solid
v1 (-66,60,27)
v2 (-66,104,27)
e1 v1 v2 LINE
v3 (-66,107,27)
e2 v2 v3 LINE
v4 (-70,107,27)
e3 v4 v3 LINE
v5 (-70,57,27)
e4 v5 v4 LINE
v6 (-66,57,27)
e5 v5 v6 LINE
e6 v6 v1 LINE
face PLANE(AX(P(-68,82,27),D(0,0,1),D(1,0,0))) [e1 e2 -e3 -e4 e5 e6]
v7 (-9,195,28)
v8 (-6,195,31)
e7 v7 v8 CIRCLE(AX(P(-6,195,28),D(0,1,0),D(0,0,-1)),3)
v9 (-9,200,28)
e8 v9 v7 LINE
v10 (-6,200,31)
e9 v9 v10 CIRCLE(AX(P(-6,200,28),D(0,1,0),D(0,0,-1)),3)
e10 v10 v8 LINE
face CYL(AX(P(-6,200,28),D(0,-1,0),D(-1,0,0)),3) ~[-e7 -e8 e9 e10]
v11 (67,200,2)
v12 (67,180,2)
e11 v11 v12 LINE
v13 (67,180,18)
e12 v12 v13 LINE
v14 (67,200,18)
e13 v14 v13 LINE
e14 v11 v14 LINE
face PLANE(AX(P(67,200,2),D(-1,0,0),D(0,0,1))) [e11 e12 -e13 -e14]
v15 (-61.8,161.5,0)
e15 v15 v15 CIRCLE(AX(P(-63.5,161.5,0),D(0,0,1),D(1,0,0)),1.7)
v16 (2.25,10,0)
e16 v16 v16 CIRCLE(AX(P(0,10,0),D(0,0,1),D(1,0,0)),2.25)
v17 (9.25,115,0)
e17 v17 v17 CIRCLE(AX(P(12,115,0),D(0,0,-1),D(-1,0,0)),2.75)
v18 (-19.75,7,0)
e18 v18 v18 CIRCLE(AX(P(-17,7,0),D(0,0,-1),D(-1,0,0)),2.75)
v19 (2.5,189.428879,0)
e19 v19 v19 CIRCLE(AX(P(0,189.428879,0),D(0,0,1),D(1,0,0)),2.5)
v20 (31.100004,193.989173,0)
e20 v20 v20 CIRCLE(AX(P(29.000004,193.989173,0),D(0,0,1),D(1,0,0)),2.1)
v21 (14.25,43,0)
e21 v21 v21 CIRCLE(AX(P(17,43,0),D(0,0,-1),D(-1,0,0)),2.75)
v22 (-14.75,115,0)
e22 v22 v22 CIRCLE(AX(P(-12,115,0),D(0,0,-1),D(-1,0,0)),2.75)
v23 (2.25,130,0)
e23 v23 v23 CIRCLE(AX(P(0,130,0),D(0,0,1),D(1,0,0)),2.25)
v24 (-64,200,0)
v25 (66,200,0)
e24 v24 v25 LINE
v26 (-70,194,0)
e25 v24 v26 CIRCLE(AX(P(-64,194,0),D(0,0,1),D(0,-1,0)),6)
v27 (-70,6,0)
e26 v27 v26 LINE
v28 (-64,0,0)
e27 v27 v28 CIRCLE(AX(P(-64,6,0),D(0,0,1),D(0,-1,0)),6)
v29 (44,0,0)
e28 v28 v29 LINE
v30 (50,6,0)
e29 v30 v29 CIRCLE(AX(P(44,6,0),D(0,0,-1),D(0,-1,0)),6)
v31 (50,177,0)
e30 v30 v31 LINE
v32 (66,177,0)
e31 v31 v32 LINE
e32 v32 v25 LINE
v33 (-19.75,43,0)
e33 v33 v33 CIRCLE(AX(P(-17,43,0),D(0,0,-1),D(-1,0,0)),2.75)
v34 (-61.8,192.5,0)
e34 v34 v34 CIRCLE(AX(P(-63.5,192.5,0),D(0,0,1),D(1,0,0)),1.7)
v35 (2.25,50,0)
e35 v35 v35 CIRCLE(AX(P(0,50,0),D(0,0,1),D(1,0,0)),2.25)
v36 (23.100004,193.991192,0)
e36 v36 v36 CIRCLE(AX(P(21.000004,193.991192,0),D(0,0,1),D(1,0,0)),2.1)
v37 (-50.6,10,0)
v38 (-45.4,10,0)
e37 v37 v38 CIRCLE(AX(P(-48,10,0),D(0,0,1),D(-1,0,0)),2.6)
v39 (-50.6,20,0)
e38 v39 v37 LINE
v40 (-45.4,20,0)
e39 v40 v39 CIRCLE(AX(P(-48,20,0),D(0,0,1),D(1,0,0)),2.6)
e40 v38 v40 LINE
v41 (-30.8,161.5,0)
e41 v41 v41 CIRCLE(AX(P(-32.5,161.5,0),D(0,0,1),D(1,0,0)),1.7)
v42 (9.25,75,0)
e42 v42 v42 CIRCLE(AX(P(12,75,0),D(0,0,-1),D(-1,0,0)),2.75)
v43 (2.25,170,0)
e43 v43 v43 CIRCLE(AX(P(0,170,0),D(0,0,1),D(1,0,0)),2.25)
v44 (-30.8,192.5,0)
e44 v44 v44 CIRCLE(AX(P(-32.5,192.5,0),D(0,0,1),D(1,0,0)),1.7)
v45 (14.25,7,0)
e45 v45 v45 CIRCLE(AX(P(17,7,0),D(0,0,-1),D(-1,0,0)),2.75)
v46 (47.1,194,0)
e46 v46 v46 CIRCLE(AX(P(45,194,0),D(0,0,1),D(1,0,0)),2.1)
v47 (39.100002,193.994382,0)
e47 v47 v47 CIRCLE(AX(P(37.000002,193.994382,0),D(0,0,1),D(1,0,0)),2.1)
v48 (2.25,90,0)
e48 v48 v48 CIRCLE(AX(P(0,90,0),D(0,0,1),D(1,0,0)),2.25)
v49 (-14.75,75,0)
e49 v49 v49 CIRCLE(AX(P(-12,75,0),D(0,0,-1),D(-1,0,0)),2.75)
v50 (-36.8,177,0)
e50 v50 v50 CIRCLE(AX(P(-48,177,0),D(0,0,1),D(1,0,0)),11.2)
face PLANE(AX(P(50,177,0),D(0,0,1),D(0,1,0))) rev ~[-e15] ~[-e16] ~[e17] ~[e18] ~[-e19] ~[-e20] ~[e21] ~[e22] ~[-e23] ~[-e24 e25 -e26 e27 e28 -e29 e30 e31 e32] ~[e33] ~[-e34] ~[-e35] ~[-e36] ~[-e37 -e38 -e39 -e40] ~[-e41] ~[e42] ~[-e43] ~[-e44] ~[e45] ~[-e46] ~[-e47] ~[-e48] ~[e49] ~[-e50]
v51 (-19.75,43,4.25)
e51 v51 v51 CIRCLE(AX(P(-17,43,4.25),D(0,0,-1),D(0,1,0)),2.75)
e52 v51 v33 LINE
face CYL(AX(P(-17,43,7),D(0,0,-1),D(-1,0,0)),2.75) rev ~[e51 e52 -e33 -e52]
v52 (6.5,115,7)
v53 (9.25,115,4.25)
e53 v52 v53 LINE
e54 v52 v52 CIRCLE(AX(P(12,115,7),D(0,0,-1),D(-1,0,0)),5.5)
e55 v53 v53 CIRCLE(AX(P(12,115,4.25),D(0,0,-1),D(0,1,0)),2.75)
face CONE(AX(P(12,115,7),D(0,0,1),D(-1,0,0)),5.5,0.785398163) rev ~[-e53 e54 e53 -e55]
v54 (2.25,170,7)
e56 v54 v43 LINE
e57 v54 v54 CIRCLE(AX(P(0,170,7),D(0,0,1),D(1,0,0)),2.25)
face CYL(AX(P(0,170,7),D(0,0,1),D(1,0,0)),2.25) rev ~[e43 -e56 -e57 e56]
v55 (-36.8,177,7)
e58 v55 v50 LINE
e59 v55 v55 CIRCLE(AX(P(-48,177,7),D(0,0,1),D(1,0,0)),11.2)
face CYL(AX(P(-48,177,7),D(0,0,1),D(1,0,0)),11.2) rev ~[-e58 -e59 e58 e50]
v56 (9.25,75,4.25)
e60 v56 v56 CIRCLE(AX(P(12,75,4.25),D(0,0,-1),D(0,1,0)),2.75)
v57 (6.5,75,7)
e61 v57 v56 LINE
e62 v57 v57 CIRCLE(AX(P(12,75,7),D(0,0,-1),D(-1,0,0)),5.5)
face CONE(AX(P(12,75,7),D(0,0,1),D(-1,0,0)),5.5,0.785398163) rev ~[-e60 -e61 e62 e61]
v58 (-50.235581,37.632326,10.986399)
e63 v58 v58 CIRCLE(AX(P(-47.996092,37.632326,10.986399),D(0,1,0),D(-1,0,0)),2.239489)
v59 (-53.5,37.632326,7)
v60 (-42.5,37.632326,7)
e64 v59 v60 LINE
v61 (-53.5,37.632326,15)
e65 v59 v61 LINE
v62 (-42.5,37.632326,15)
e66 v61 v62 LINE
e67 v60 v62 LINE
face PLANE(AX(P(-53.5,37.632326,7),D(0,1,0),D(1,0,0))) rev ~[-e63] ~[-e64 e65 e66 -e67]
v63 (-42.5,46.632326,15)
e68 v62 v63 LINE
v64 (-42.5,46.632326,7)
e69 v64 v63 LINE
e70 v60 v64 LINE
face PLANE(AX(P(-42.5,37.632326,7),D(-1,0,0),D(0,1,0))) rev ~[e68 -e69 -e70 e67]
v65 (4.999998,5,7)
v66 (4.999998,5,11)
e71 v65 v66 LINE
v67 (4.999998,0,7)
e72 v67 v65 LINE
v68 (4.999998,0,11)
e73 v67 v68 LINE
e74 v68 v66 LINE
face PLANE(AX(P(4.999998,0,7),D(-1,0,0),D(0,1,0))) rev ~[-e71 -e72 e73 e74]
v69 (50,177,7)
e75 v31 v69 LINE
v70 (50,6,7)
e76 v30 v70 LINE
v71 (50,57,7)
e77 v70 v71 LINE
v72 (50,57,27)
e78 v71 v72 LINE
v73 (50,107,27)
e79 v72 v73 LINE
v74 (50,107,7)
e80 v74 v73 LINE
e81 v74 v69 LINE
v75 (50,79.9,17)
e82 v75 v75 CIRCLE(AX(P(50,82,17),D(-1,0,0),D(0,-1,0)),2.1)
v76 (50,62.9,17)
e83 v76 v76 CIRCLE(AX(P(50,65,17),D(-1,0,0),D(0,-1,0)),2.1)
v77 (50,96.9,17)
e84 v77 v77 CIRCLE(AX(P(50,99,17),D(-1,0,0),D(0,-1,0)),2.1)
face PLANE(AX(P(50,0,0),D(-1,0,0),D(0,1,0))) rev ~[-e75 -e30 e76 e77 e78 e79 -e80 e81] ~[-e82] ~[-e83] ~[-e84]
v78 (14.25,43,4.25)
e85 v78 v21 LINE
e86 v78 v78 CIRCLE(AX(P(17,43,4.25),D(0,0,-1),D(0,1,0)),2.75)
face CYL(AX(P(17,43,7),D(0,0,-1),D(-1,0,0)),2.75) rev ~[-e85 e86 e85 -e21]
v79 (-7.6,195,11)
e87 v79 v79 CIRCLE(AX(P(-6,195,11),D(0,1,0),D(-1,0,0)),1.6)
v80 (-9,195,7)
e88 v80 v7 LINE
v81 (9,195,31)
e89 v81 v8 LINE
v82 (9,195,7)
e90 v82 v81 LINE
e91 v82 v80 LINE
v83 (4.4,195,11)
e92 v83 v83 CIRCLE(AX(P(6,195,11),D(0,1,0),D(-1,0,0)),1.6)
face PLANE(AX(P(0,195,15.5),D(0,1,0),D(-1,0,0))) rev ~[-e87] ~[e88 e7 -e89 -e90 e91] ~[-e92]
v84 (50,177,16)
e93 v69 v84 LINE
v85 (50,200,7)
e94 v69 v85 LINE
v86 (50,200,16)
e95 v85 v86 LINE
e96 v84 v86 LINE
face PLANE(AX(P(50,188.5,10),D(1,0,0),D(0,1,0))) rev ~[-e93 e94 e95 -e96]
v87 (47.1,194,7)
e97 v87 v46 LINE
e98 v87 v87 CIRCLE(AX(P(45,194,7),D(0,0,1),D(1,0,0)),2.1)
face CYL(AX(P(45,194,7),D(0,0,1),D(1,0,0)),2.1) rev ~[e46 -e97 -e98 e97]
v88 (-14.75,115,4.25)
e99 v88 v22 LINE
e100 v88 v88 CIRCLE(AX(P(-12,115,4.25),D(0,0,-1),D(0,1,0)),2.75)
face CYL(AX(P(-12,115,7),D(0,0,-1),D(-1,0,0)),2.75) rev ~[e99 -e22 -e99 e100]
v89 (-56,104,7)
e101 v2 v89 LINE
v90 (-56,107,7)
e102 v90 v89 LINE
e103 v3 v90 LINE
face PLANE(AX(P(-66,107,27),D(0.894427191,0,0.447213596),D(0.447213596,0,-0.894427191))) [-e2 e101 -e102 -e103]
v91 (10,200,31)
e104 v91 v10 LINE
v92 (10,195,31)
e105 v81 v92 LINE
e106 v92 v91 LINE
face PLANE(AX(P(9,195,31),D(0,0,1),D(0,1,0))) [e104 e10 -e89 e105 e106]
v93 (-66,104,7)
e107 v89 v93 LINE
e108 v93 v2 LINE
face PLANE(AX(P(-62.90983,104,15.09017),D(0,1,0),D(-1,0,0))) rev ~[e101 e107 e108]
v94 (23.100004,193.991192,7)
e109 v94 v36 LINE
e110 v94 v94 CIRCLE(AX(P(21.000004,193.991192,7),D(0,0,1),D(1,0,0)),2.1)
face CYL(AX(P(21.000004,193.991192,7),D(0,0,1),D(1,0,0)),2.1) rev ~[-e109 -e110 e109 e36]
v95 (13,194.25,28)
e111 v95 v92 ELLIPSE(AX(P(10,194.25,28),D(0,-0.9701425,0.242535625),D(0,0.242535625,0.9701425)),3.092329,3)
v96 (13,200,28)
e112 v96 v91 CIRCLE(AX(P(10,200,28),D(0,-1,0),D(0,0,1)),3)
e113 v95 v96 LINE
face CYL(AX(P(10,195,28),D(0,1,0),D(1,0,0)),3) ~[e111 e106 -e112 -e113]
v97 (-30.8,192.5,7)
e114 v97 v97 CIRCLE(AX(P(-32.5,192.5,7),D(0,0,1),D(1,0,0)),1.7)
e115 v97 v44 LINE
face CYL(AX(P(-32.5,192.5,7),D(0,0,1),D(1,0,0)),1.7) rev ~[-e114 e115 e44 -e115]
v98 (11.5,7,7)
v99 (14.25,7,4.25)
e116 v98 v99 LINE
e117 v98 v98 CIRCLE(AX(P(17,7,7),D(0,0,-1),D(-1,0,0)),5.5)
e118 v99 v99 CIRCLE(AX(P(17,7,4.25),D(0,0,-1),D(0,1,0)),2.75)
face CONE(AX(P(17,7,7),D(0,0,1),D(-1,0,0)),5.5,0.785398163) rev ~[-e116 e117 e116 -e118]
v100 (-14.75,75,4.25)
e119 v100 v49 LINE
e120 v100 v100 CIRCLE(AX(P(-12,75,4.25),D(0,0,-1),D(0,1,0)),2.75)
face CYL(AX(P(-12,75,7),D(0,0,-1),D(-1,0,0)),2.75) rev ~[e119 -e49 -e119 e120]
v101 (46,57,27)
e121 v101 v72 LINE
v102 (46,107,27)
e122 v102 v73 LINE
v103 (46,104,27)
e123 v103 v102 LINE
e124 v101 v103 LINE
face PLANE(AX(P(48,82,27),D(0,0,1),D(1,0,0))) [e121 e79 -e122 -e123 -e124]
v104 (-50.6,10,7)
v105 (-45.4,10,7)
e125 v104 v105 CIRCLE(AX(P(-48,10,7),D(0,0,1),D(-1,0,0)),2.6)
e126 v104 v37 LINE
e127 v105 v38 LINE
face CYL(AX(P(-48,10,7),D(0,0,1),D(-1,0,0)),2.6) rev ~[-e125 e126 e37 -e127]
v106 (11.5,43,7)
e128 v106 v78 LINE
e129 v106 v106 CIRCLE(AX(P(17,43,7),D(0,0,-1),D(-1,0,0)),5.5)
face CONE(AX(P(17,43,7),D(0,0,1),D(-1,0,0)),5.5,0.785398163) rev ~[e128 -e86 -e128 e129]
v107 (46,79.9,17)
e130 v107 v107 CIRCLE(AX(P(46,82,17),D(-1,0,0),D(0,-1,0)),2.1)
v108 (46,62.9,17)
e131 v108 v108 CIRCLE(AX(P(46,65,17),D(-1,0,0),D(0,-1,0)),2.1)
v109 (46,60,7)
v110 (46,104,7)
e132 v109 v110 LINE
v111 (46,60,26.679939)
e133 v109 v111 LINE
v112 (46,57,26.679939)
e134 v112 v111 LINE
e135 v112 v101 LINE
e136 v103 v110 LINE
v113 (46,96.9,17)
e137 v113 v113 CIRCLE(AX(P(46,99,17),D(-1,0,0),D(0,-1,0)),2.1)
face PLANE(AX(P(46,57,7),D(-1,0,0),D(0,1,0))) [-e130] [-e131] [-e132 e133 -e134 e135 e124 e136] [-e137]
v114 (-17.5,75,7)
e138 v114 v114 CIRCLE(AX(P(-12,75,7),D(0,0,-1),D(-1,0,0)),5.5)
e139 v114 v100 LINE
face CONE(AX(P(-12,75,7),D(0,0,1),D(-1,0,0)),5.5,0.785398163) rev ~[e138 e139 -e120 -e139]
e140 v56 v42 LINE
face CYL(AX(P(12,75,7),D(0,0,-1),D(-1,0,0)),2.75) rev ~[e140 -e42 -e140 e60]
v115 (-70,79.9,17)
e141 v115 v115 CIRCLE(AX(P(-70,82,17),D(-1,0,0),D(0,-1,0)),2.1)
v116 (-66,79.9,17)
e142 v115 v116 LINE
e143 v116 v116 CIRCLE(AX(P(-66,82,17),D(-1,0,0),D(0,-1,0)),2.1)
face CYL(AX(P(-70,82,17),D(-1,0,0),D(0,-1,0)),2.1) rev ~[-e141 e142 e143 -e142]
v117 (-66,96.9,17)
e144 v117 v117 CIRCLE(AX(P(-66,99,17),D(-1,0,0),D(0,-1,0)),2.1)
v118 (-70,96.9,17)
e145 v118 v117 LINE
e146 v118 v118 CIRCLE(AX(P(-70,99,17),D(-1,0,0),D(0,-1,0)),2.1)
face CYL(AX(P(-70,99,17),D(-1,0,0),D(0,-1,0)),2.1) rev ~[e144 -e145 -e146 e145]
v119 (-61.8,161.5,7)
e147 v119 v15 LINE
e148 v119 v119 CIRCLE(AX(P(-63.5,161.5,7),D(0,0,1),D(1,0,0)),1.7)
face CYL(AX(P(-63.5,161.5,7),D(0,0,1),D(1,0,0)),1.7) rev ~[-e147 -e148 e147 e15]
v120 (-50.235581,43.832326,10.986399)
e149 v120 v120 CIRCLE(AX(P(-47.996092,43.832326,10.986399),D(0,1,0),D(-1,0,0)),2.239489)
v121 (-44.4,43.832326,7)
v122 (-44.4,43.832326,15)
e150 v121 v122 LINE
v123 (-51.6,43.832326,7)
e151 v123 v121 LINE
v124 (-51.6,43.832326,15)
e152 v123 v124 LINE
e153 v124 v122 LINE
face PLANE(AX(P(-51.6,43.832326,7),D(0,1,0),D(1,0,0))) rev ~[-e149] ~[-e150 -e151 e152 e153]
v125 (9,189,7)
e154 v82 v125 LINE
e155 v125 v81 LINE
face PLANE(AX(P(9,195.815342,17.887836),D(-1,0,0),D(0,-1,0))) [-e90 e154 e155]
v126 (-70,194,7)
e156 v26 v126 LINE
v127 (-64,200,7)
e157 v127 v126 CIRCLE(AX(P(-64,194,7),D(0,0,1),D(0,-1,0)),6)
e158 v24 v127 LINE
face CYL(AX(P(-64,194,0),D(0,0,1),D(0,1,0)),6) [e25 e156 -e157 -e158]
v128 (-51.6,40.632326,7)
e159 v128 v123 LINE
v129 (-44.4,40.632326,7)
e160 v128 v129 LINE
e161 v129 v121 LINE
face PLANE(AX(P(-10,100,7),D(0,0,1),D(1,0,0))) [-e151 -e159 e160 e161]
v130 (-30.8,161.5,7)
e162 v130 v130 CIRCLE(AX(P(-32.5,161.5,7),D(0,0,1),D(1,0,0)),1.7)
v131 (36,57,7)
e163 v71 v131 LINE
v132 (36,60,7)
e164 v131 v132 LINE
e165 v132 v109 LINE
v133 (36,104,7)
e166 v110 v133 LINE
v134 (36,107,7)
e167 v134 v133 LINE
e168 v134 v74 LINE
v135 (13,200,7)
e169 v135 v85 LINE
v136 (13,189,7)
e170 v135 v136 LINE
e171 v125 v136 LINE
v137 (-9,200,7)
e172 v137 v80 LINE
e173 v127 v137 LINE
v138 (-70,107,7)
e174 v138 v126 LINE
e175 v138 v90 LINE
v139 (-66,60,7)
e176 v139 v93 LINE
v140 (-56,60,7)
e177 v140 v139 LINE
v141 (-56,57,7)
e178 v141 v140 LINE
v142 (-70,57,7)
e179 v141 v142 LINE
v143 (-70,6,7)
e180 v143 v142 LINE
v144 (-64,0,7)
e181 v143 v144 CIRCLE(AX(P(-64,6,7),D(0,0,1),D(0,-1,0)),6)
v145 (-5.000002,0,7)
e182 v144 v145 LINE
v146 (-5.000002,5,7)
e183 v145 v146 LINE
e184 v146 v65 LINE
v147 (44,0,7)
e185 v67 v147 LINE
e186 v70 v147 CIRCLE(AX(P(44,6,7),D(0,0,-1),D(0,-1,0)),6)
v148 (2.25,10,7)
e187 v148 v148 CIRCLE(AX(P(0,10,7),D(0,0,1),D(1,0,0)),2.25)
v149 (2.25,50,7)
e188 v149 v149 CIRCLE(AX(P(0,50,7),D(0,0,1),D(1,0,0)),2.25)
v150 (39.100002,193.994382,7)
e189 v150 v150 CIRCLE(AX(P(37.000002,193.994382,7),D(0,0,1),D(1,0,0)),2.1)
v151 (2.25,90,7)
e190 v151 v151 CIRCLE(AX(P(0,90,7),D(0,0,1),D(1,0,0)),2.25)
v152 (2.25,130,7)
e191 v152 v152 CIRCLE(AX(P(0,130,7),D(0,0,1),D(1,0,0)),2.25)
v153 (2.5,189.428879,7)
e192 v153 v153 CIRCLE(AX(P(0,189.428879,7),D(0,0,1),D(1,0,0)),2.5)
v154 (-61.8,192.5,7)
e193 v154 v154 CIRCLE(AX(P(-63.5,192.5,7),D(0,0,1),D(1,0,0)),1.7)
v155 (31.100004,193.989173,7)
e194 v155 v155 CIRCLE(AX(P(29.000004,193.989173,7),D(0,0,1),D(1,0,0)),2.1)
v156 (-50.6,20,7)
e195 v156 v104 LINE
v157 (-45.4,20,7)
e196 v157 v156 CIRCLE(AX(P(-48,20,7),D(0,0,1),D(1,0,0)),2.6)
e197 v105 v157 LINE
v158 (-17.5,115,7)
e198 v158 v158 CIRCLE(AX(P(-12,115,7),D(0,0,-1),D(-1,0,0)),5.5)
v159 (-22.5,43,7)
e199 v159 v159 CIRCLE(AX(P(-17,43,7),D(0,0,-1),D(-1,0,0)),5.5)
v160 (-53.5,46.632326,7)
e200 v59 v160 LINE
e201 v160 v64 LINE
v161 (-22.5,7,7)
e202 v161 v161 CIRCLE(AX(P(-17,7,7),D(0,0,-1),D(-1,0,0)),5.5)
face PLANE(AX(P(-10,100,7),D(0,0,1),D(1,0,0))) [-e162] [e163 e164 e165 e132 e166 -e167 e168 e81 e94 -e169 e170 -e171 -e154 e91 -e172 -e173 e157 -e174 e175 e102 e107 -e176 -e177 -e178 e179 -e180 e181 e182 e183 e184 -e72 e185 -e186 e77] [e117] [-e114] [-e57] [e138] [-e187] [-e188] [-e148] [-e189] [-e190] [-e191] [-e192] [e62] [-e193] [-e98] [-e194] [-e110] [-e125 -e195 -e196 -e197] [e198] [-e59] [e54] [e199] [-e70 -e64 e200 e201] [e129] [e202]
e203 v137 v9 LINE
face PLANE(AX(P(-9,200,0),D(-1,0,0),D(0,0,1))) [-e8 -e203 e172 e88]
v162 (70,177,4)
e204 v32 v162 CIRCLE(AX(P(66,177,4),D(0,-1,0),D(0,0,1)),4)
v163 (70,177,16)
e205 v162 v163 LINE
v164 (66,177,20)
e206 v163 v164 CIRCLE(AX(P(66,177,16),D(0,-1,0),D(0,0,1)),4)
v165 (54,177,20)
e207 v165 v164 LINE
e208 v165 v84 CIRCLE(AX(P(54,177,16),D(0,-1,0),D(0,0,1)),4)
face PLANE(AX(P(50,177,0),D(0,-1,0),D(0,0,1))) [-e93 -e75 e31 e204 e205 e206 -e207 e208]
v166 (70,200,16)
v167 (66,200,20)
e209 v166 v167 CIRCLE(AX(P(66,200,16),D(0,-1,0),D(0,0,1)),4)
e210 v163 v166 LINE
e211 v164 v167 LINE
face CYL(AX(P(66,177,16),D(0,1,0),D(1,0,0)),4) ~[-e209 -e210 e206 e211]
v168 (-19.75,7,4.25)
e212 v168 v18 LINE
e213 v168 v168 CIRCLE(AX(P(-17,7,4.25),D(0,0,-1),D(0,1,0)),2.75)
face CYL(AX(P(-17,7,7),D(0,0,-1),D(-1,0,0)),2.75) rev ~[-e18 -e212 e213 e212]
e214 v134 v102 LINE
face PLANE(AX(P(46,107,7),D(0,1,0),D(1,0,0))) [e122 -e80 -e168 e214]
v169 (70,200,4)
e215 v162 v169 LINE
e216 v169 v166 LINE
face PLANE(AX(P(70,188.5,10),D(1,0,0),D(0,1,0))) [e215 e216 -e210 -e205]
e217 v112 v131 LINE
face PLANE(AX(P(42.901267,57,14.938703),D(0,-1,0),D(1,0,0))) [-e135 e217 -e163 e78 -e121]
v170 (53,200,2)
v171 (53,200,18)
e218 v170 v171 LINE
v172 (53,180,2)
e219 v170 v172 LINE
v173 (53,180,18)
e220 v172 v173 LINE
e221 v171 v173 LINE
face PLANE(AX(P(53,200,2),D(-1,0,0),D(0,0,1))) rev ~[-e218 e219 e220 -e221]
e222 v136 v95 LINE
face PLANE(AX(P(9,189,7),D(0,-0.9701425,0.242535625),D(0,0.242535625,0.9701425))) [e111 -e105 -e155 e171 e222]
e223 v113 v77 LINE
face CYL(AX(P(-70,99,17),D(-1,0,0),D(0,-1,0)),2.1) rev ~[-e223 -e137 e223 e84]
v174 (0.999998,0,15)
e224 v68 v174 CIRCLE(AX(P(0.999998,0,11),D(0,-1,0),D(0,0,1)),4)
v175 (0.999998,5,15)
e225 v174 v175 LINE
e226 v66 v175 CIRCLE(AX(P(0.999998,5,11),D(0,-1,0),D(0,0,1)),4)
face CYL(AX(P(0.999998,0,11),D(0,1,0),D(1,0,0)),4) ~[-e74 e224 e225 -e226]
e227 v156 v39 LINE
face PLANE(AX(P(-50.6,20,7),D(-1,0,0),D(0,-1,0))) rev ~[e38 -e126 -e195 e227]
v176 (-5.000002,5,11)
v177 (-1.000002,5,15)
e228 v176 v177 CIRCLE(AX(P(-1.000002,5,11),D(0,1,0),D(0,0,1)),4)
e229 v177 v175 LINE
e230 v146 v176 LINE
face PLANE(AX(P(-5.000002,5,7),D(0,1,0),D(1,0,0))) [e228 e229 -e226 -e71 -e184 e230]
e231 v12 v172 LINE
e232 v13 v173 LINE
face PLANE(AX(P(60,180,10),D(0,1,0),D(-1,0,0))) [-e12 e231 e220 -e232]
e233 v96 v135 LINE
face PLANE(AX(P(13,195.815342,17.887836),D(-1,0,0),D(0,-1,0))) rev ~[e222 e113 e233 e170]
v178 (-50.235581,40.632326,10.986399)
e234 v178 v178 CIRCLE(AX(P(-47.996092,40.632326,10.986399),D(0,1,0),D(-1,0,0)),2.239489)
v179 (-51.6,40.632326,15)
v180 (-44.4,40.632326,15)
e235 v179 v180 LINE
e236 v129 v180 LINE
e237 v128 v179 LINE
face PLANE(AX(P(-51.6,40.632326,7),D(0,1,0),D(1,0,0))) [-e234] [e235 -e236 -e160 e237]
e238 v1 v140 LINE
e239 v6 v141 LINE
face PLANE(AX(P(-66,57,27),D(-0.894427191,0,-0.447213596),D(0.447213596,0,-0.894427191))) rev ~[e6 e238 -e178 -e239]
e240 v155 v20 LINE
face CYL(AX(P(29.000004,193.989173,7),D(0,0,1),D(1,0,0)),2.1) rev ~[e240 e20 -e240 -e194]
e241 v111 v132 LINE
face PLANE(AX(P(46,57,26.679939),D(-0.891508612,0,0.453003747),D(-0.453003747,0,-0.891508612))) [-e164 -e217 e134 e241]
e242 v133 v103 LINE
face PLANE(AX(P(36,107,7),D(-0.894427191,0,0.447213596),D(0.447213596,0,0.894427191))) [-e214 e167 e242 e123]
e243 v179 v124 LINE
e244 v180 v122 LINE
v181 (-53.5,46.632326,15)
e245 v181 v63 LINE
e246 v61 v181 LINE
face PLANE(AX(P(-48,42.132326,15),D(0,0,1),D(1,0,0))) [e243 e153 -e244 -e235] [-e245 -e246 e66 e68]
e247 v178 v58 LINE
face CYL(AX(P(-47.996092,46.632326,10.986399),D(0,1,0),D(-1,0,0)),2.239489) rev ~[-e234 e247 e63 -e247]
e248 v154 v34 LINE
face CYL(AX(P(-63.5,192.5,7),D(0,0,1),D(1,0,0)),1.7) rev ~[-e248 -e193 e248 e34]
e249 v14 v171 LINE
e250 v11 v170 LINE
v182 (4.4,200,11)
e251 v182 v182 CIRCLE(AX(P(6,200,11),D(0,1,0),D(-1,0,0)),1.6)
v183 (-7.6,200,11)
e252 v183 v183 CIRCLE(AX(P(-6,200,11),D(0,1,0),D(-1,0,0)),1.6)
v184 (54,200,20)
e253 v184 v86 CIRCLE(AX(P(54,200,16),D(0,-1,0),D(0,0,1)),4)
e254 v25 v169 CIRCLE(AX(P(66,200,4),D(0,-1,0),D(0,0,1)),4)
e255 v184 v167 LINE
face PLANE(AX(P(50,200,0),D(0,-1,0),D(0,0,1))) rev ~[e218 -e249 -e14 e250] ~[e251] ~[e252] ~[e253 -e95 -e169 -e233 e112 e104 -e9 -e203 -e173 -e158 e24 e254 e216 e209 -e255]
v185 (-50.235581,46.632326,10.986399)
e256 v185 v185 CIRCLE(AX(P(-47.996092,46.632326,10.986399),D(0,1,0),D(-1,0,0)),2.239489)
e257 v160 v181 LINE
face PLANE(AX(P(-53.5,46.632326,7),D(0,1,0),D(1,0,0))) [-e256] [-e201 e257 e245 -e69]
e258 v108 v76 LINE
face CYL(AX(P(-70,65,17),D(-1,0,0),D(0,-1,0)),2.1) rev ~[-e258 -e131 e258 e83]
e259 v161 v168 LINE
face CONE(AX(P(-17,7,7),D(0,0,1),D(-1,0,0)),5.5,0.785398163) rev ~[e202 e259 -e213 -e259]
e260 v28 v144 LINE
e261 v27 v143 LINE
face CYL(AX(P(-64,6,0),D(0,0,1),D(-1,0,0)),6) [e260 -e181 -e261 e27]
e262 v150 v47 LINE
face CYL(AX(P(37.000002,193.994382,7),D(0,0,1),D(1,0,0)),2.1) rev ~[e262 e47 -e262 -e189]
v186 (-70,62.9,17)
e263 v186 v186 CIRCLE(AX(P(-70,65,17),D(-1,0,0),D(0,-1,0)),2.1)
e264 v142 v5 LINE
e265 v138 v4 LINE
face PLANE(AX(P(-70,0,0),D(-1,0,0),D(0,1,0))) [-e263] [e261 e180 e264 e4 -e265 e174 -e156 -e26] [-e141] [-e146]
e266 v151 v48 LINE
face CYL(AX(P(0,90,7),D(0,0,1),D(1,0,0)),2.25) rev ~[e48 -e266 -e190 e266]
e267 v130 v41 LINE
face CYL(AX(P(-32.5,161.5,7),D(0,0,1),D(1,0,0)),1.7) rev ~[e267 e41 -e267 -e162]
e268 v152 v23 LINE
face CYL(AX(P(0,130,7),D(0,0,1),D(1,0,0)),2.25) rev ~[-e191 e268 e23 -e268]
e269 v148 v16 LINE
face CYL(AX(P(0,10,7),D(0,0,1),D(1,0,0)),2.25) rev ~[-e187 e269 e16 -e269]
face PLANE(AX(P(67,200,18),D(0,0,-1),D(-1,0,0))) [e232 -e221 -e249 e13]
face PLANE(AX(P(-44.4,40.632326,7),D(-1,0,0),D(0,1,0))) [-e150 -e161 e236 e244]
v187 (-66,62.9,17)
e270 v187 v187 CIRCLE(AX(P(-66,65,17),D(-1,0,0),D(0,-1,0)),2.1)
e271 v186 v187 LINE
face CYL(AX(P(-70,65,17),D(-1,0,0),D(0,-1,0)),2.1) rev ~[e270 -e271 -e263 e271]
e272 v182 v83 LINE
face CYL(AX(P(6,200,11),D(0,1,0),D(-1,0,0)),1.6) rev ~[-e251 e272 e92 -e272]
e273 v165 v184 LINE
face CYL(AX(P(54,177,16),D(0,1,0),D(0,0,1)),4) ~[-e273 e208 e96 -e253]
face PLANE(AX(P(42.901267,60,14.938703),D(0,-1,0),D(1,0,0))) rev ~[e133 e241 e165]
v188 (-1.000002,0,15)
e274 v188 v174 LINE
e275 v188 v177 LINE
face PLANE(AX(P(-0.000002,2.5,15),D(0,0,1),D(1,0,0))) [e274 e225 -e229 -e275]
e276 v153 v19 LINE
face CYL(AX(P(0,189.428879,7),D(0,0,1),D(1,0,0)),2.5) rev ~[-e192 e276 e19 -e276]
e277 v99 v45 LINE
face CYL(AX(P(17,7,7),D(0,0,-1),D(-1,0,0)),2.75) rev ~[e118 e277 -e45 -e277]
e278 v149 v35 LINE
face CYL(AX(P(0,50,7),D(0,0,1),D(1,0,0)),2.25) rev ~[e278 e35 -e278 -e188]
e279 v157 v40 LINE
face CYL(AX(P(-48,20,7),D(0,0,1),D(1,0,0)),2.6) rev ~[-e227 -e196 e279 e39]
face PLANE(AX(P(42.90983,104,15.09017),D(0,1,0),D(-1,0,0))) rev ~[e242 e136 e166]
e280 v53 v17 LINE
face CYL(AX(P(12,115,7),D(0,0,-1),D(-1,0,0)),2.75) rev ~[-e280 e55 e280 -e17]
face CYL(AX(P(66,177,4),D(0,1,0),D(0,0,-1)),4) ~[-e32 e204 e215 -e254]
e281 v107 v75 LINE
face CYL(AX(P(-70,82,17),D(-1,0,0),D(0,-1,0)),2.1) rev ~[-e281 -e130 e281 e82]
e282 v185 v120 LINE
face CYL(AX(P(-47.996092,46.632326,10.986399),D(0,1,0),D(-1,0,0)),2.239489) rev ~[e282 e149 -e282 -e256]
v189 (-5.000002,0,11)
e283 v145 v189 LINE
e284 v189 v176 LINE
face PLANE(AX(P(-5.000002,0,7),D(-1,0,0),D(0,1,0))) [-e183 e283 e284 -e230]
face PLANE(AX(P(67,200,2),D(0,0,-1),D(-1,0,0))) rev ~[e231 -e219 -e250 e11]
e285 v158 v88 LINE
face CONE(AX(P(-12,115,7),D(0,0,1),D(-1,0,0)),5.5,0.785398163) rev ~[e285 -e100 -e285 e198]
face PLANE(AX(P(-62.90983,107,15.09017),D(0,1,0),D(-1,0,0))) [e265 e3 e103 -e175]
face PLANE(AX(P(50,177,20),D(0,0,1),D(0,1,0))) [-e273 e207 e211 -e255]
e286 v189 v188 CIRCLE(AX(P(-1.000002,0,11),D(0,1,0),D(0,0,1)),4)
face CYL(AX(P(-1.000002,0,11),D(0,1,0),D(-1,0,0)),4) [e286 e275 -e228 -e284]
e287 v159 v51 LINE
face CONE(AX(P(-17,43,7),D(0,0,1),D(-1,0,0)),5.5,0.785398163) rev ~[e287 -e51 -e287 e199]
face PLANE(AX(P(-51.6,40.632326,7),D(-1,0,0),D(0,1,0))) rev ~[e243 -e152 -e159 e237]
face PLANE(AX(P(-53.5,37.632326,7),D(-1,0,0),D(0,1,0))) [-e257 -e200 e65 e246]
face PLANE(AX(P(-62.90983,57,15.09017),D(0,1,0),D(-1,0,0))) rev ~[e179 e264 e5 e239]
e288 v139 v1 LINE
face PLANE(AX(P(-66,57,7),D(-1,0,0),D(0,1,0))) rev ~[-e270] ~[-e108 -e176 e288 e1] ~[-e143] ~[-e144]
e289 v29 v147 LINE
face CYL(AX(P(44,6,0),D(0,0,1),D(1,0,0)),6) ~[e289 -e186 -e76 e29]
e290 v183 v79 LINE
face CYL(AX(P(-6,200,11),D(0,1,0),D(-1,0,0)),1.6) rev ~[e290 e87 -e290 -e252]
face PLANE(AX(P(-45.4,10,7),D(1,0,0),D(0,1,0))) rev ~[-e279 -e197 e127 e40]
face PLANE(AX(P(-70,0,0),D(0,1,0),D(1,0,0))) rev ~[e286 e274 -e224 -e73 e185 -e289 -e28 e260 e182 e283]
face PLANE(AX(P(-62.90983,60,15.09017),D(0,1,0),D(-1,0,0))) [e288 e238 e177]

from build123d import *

# Parameters (mm, degrees)
SKETCH_W         = 120
SKETCH_H         = 200
PAD_DEPTH        = 7
HOLE_D           = 5.5
HOLE_CSINK_D     = 11
HOLE_CSINK_ANGLE = 90
SKETCH002_R      = 2.25
HOLE001_DEPTH    = 7.001
SKETCH003_W      = 10
SKETCH003_H      = 5
PAD001_DEPTH     = 8
SKETCH004_R      = 11.2
SKETCH004_R_2    = 1.7
POCKET_DEPTH     = 13
SKETCH005_W      = 4
SKETCH005_H      = 50
PAD002_DEPTH     = 20
PAD009_DEPTH     = 3
PAD010_DEPTH     = 3
SKETCH019_W      = 11
SKETCH019_H      = 9
SKETCH019_W_2    = 7.2
SKETCH019_H_2    = 3.2
PAD011_DEPTH     = 8
SKETCH020_R      = 2
POCKET001_DEPTH  = 14
SKETCH022_W      = 18
SKETCH022_H      = 31
PAD012_DEPTH     = 5
PAD013_DEPTH     = 4
SKETCH024_R      = 2.5
POCKET003_DEPTH  = 7
SKETCH026_W      = 23
SKETCH026_H      = 20
PAD014_DEPTH     = 20
SKETCH030_R      = 2.1
POCKET004_DEPTH  = 7
SKETCH031_R      = 1.6
POCKET005_DEPTH  = 5
SKETCH032_W      = 14
SKETCH032_H      = 16
POCKET006_DEPTH  = 20
SKETCH034_R      = 2.1
POCKET008_DEPTH  = 120
SKETCH035_R      = 2.239489
POCKET009_DEPTH  = 12
FILLET_R         = 3
FILLET001_R      = 4
FILLET002_R      = 6
FILLET003_R      = 4


with BuildPart() as part:
    # Sketch → Pad (new body)
    with BuildSketch(Plane.XY):
        with Locations((-10, 100)):
            Rectangle(SKETCH_W, SKETCH_H)
    extrude(amount=PAD_DEPTH)

    # Hole (through all)
    with Locations(Plane.XY.offset(7)):
        with Locations((17, 7), (17, 43), (-17, 43), (-17, 7), (12, 115), (12, 75), (-12, 115), (-12, 75)):
            CounterSinkHole(HOLE_D / 2, HOLE_CSINK_D / 2, counter_sink_angle=HOLE_CSINK_ANGLE)

    # Sketch002 (on Face5 of Hole) → Hole001 (cut, through all)
    with BuildSketch(Plane.XY.offset(7)):
        with Locations((0, 10)):
            Circle(SKETCH002_R)
        with Locations((0, 50)):
            Circle(SKETCH002_R)
        with Locations((0, 90)):
            Circle(SKETCH002_R)
        with Locations((0, 130)):
            Circle(SKETCH002_R)
        with Locations((0, 170)):
            Circle(SKETCH002_R)
    extrude(amount=-HOLE001_DEPTH, mode=Mode.SUBTRACT)

    # Sketch003 (on Face5 of Hole001) → Pad001 (join)
    with BuildSketch(Plane.XY.offset(7)):
        with Locations((-2e-06, 2.5)):
            Rectangle(SKETCH003_W, SKETCH003_H)
    extrude(amount=PAD001_DEPTH)

    # Sketch004 (on Face5 of Pad001) → Pocket (cut)
    with BuildSketch(Plane.XY.offset(7)):
        with Locations((-48, 177)):
            Circle(SKETCH004_R)
        with Locations((-63.5, 192.5)):
            Circle(SKETCH004_R_2)
        with Locations((-32.5, 192.5)):
            Circle(SKETCH004_R_2)
        with Locations((-32.5, 161.5)):
            Circle(SKETCH004_R_2)
        with Locations((-63.5, 161.5)):
            Circle(SKETCH004_R_2)
        with BuildLine():
            ThreePointArc((-50.6, 10), (-48, 7.4), (-45.4, 10))
            Line((-45.4, 10), (-45.4, 20))
            ThreePointArc((-45.4, 20), (-48, 22.6), (-50.6, 20))
            Line((-50.6, 20), (-50.6, 10))
        make_face()
    extrude(amount=-POCKET_DEPTH, mode=Mode.SUBTRACT)

    # Sketch005 (on DatumPlane) → Pad002 (join)
    with BuildSketch(Plane.XY.offset(7)):
        with Locations((-68, 82)):
            Rectangle(SKETCH005_W, SKETCH005_H)
        with Locations((48, 82)):
            Rectangle(SKETCH005_W, SKETCH005_H)
    extrude(amount=PAD002_DEPTH)

    # Sketch017 (on DatumPlane) → Pad009 (join)
    with BuildSketch(Plane(origin=(0, 107, 0), x_dir=(-1, 0, 0), z_dir=(0, 1, 0))):
        Polygon((66, 7), (66, 27), (56, 7), align=None)
        Polygon((-46, 27), (-46, 7), (-36, 7), align=None)
    extrude(amount=-PAD009_DEPTH)

    # Sketch018 (on DatumPlane) → Pad010 (join)
    with BuildSketch(Plane.XZ.offset(-57)):
        Polygon((-66, 7), (-66, 27), (-56, 7), align=None)
        Polygon((46, 7), (46, 26.679939), (36, 7), align=None)
    extrude(amount=-PAD010_DEPTH)

    # Sketch019 (on Face5 of Pad010) → Pad011 (join)
    with BuildSketch(Plane.XY.offset(7)):
        with Locations((-48, 42.132326)):
            Rectangle(SKETCH019_W, SKETCH019_H)
        with Locations((-48, 42.232326)):
            Rectangle(SKETCH019_W_2, SKETCH019_H_2, mode=Mode.SUBTRACT)
    extrude(amount=PAD011_DEPTH)

    # Sketch020 → Pocket001 (cut)
    with BuildSketch(Plane(origin=(0, 50.499198, 0), x_dir=(-1, 0, 0), z_dir=(0, 1, 0))):
        with Locations((28, 12)):
            Circle(SKETCH020_R)
    extrude(amount=-POCKET001_DEPTH, mode=Mode.SUBTRACT)

    # Sketch022 (on DatumPlane) → Pad012 (join)
    with BuildSketch(Plane(origin=(0, 200, 0), x_dir=(-1, 0, 0), z_dir=(0, 1, 0))):
        with Locations((0, 15.5)):
            Rectangle(SKETCH022_W, SKETCH022_H)
    extrude(amount=-PAD012_DEPTH)

    # Sketch023 (on DatumPlane) → Pad013 (join)
    with BuildSketch(Plane.YZ.offset(9)):
        Polygon((200, 7), (189, 7), (195, 31), (200, 31), align=None)
    extrude(amount=PAD013_DEPTH)

    # Sketch024 (on Face5 of Pad013) → Pocket003 (cut)
    with BuildSketch(Plane.XY.offset(7)):
        with Locations((0, 189.428879)):
            Circle(SKETCH024_R)
    extrude(amount=-POCKET003_DEPTH, mode=Mode.SUBTRACT)

    # Sketch026 (on DatumPlane) → Pad014 (join)
    with BuildSketch(Plane.YZ.offset(50)):
        with Locations((188.5, 10)):
            Rectangle(SKETCH026_W, SKETCH026_H)
    extrude(amount=PAD014_DEPTH)

    # Sketch030 → Pocket004 (cut)
    with BuildSketch(Plane.XY.offset(7)):
        with Locations((21.000004, 193.991192)):
            Circle(SKETCH030_R)
        with Locations((29.000004, 193.989173)):
            Circle(SKETCH030_R)
        with Locations((37.000002, 193.994382)):
            Circle(SKETCH030_R)
        with Locations((45, 194)):
            Circle(SKETCH030_R)
    extrude(amount=-POCKET004_DEPTH, mode=Mode.SUBTRACT)

    # Sketch031 (on Face90 of Pocket004) → Pocket005 (cut)
    with BuildSketch(Plane(origin=(0, 200, 0), x_dir=(-1, 0, 0), z_dir=(0, 1, 0))):
        with Locations((-6, 11)):
            Circle(SKETCH031_R)
        with Locations((6, 11)):
            Circle(SKETCH031_R)
    extrude(amount=-POCKET005_DEPTH, mode=Mode.SUBTRACT)

    # Sketch032 (on Face86 of Pocket005) → Pocket006 (cut)
    with BuildSketch(Plane(origin=(0, 200, 0), x_dir=(-1, 0, 0), z_dir=(0, 1, 0))):
        with Locations((-60, 10)):
            Rectangle(SKETCH032_W, SKETCH032_H)
    extrude(amount=-POCKET006_DEPTH, mode=Mode.SUBTRACT)

    # Sketch034 (on DatumPlane) → Pocket008 (cut)
    with BuildSketch(Plane(origin=(-70, 0, 0), x_dir=(0, -1, 0), z_dir=(-1, 0, 0))):
        with Locations((-99, 17)):
            Circle(SKETCH034_R)
        with Locations((-82, 17)):
            Circle(SKETCH034_R)
        with Locations((-65, 17)):
            Circle(SKETCH034_R)
    extrude(amount=-POCKET008_DEPTH, mode=Mode.SUBTRACT)

    # Sketch035 (on Face55 of Pad011) → Pocket009 (cut)
    with BuildSketch(Plane(origin=(0, 46.632326, 0), x_dir=(-1, 0, 0), z_dir=(0, 1, 0))):
        with Locations((47.996092, 10.986399)):
            Circle(SKETCH035_R)
    extrude(amount=-POCKET009_DEPTH, mode=Mode.SUBTRACT)

    # Fillet
    fillet_edges = [part.edges().sort_by_distance(p)[0] for p in [
        (-9, 197.5, 31),
        (13, 197.5, 31),
    ]]
    fillet(fillet_edges, radius=FILLET_R)

    # Fillet001
    fillet001_edges = [part.edges().sort_by_distance(p)[0] for p in [
        (50, 188.5, 20),
        (70, 188.5, 20),
        (70, 188.5, 0),
    ]]
    fillet(fillet001_edges, radius=FILLET001_R)

    # Fillet002
    fillet002_edges = [part.edges().sort_by_distance(p)[0] for p in [
        (-70, 200, 3.5),
        (50, 0, 3.5),
        (-70, 0, 3.5),
    ]]
    fillet(fillet002_edges, radius=FILLET002_R)

    # Fillet003
    fillet003_edges = [part.edges().sort_by_distance(p)[0] for p in [
        (-5.000002, 2.5, 15),
        (4.999998, 2.5, 15),
    ]]
    fillet(fillet003_edges, radius=FILLET003_R)


solid = part.part
